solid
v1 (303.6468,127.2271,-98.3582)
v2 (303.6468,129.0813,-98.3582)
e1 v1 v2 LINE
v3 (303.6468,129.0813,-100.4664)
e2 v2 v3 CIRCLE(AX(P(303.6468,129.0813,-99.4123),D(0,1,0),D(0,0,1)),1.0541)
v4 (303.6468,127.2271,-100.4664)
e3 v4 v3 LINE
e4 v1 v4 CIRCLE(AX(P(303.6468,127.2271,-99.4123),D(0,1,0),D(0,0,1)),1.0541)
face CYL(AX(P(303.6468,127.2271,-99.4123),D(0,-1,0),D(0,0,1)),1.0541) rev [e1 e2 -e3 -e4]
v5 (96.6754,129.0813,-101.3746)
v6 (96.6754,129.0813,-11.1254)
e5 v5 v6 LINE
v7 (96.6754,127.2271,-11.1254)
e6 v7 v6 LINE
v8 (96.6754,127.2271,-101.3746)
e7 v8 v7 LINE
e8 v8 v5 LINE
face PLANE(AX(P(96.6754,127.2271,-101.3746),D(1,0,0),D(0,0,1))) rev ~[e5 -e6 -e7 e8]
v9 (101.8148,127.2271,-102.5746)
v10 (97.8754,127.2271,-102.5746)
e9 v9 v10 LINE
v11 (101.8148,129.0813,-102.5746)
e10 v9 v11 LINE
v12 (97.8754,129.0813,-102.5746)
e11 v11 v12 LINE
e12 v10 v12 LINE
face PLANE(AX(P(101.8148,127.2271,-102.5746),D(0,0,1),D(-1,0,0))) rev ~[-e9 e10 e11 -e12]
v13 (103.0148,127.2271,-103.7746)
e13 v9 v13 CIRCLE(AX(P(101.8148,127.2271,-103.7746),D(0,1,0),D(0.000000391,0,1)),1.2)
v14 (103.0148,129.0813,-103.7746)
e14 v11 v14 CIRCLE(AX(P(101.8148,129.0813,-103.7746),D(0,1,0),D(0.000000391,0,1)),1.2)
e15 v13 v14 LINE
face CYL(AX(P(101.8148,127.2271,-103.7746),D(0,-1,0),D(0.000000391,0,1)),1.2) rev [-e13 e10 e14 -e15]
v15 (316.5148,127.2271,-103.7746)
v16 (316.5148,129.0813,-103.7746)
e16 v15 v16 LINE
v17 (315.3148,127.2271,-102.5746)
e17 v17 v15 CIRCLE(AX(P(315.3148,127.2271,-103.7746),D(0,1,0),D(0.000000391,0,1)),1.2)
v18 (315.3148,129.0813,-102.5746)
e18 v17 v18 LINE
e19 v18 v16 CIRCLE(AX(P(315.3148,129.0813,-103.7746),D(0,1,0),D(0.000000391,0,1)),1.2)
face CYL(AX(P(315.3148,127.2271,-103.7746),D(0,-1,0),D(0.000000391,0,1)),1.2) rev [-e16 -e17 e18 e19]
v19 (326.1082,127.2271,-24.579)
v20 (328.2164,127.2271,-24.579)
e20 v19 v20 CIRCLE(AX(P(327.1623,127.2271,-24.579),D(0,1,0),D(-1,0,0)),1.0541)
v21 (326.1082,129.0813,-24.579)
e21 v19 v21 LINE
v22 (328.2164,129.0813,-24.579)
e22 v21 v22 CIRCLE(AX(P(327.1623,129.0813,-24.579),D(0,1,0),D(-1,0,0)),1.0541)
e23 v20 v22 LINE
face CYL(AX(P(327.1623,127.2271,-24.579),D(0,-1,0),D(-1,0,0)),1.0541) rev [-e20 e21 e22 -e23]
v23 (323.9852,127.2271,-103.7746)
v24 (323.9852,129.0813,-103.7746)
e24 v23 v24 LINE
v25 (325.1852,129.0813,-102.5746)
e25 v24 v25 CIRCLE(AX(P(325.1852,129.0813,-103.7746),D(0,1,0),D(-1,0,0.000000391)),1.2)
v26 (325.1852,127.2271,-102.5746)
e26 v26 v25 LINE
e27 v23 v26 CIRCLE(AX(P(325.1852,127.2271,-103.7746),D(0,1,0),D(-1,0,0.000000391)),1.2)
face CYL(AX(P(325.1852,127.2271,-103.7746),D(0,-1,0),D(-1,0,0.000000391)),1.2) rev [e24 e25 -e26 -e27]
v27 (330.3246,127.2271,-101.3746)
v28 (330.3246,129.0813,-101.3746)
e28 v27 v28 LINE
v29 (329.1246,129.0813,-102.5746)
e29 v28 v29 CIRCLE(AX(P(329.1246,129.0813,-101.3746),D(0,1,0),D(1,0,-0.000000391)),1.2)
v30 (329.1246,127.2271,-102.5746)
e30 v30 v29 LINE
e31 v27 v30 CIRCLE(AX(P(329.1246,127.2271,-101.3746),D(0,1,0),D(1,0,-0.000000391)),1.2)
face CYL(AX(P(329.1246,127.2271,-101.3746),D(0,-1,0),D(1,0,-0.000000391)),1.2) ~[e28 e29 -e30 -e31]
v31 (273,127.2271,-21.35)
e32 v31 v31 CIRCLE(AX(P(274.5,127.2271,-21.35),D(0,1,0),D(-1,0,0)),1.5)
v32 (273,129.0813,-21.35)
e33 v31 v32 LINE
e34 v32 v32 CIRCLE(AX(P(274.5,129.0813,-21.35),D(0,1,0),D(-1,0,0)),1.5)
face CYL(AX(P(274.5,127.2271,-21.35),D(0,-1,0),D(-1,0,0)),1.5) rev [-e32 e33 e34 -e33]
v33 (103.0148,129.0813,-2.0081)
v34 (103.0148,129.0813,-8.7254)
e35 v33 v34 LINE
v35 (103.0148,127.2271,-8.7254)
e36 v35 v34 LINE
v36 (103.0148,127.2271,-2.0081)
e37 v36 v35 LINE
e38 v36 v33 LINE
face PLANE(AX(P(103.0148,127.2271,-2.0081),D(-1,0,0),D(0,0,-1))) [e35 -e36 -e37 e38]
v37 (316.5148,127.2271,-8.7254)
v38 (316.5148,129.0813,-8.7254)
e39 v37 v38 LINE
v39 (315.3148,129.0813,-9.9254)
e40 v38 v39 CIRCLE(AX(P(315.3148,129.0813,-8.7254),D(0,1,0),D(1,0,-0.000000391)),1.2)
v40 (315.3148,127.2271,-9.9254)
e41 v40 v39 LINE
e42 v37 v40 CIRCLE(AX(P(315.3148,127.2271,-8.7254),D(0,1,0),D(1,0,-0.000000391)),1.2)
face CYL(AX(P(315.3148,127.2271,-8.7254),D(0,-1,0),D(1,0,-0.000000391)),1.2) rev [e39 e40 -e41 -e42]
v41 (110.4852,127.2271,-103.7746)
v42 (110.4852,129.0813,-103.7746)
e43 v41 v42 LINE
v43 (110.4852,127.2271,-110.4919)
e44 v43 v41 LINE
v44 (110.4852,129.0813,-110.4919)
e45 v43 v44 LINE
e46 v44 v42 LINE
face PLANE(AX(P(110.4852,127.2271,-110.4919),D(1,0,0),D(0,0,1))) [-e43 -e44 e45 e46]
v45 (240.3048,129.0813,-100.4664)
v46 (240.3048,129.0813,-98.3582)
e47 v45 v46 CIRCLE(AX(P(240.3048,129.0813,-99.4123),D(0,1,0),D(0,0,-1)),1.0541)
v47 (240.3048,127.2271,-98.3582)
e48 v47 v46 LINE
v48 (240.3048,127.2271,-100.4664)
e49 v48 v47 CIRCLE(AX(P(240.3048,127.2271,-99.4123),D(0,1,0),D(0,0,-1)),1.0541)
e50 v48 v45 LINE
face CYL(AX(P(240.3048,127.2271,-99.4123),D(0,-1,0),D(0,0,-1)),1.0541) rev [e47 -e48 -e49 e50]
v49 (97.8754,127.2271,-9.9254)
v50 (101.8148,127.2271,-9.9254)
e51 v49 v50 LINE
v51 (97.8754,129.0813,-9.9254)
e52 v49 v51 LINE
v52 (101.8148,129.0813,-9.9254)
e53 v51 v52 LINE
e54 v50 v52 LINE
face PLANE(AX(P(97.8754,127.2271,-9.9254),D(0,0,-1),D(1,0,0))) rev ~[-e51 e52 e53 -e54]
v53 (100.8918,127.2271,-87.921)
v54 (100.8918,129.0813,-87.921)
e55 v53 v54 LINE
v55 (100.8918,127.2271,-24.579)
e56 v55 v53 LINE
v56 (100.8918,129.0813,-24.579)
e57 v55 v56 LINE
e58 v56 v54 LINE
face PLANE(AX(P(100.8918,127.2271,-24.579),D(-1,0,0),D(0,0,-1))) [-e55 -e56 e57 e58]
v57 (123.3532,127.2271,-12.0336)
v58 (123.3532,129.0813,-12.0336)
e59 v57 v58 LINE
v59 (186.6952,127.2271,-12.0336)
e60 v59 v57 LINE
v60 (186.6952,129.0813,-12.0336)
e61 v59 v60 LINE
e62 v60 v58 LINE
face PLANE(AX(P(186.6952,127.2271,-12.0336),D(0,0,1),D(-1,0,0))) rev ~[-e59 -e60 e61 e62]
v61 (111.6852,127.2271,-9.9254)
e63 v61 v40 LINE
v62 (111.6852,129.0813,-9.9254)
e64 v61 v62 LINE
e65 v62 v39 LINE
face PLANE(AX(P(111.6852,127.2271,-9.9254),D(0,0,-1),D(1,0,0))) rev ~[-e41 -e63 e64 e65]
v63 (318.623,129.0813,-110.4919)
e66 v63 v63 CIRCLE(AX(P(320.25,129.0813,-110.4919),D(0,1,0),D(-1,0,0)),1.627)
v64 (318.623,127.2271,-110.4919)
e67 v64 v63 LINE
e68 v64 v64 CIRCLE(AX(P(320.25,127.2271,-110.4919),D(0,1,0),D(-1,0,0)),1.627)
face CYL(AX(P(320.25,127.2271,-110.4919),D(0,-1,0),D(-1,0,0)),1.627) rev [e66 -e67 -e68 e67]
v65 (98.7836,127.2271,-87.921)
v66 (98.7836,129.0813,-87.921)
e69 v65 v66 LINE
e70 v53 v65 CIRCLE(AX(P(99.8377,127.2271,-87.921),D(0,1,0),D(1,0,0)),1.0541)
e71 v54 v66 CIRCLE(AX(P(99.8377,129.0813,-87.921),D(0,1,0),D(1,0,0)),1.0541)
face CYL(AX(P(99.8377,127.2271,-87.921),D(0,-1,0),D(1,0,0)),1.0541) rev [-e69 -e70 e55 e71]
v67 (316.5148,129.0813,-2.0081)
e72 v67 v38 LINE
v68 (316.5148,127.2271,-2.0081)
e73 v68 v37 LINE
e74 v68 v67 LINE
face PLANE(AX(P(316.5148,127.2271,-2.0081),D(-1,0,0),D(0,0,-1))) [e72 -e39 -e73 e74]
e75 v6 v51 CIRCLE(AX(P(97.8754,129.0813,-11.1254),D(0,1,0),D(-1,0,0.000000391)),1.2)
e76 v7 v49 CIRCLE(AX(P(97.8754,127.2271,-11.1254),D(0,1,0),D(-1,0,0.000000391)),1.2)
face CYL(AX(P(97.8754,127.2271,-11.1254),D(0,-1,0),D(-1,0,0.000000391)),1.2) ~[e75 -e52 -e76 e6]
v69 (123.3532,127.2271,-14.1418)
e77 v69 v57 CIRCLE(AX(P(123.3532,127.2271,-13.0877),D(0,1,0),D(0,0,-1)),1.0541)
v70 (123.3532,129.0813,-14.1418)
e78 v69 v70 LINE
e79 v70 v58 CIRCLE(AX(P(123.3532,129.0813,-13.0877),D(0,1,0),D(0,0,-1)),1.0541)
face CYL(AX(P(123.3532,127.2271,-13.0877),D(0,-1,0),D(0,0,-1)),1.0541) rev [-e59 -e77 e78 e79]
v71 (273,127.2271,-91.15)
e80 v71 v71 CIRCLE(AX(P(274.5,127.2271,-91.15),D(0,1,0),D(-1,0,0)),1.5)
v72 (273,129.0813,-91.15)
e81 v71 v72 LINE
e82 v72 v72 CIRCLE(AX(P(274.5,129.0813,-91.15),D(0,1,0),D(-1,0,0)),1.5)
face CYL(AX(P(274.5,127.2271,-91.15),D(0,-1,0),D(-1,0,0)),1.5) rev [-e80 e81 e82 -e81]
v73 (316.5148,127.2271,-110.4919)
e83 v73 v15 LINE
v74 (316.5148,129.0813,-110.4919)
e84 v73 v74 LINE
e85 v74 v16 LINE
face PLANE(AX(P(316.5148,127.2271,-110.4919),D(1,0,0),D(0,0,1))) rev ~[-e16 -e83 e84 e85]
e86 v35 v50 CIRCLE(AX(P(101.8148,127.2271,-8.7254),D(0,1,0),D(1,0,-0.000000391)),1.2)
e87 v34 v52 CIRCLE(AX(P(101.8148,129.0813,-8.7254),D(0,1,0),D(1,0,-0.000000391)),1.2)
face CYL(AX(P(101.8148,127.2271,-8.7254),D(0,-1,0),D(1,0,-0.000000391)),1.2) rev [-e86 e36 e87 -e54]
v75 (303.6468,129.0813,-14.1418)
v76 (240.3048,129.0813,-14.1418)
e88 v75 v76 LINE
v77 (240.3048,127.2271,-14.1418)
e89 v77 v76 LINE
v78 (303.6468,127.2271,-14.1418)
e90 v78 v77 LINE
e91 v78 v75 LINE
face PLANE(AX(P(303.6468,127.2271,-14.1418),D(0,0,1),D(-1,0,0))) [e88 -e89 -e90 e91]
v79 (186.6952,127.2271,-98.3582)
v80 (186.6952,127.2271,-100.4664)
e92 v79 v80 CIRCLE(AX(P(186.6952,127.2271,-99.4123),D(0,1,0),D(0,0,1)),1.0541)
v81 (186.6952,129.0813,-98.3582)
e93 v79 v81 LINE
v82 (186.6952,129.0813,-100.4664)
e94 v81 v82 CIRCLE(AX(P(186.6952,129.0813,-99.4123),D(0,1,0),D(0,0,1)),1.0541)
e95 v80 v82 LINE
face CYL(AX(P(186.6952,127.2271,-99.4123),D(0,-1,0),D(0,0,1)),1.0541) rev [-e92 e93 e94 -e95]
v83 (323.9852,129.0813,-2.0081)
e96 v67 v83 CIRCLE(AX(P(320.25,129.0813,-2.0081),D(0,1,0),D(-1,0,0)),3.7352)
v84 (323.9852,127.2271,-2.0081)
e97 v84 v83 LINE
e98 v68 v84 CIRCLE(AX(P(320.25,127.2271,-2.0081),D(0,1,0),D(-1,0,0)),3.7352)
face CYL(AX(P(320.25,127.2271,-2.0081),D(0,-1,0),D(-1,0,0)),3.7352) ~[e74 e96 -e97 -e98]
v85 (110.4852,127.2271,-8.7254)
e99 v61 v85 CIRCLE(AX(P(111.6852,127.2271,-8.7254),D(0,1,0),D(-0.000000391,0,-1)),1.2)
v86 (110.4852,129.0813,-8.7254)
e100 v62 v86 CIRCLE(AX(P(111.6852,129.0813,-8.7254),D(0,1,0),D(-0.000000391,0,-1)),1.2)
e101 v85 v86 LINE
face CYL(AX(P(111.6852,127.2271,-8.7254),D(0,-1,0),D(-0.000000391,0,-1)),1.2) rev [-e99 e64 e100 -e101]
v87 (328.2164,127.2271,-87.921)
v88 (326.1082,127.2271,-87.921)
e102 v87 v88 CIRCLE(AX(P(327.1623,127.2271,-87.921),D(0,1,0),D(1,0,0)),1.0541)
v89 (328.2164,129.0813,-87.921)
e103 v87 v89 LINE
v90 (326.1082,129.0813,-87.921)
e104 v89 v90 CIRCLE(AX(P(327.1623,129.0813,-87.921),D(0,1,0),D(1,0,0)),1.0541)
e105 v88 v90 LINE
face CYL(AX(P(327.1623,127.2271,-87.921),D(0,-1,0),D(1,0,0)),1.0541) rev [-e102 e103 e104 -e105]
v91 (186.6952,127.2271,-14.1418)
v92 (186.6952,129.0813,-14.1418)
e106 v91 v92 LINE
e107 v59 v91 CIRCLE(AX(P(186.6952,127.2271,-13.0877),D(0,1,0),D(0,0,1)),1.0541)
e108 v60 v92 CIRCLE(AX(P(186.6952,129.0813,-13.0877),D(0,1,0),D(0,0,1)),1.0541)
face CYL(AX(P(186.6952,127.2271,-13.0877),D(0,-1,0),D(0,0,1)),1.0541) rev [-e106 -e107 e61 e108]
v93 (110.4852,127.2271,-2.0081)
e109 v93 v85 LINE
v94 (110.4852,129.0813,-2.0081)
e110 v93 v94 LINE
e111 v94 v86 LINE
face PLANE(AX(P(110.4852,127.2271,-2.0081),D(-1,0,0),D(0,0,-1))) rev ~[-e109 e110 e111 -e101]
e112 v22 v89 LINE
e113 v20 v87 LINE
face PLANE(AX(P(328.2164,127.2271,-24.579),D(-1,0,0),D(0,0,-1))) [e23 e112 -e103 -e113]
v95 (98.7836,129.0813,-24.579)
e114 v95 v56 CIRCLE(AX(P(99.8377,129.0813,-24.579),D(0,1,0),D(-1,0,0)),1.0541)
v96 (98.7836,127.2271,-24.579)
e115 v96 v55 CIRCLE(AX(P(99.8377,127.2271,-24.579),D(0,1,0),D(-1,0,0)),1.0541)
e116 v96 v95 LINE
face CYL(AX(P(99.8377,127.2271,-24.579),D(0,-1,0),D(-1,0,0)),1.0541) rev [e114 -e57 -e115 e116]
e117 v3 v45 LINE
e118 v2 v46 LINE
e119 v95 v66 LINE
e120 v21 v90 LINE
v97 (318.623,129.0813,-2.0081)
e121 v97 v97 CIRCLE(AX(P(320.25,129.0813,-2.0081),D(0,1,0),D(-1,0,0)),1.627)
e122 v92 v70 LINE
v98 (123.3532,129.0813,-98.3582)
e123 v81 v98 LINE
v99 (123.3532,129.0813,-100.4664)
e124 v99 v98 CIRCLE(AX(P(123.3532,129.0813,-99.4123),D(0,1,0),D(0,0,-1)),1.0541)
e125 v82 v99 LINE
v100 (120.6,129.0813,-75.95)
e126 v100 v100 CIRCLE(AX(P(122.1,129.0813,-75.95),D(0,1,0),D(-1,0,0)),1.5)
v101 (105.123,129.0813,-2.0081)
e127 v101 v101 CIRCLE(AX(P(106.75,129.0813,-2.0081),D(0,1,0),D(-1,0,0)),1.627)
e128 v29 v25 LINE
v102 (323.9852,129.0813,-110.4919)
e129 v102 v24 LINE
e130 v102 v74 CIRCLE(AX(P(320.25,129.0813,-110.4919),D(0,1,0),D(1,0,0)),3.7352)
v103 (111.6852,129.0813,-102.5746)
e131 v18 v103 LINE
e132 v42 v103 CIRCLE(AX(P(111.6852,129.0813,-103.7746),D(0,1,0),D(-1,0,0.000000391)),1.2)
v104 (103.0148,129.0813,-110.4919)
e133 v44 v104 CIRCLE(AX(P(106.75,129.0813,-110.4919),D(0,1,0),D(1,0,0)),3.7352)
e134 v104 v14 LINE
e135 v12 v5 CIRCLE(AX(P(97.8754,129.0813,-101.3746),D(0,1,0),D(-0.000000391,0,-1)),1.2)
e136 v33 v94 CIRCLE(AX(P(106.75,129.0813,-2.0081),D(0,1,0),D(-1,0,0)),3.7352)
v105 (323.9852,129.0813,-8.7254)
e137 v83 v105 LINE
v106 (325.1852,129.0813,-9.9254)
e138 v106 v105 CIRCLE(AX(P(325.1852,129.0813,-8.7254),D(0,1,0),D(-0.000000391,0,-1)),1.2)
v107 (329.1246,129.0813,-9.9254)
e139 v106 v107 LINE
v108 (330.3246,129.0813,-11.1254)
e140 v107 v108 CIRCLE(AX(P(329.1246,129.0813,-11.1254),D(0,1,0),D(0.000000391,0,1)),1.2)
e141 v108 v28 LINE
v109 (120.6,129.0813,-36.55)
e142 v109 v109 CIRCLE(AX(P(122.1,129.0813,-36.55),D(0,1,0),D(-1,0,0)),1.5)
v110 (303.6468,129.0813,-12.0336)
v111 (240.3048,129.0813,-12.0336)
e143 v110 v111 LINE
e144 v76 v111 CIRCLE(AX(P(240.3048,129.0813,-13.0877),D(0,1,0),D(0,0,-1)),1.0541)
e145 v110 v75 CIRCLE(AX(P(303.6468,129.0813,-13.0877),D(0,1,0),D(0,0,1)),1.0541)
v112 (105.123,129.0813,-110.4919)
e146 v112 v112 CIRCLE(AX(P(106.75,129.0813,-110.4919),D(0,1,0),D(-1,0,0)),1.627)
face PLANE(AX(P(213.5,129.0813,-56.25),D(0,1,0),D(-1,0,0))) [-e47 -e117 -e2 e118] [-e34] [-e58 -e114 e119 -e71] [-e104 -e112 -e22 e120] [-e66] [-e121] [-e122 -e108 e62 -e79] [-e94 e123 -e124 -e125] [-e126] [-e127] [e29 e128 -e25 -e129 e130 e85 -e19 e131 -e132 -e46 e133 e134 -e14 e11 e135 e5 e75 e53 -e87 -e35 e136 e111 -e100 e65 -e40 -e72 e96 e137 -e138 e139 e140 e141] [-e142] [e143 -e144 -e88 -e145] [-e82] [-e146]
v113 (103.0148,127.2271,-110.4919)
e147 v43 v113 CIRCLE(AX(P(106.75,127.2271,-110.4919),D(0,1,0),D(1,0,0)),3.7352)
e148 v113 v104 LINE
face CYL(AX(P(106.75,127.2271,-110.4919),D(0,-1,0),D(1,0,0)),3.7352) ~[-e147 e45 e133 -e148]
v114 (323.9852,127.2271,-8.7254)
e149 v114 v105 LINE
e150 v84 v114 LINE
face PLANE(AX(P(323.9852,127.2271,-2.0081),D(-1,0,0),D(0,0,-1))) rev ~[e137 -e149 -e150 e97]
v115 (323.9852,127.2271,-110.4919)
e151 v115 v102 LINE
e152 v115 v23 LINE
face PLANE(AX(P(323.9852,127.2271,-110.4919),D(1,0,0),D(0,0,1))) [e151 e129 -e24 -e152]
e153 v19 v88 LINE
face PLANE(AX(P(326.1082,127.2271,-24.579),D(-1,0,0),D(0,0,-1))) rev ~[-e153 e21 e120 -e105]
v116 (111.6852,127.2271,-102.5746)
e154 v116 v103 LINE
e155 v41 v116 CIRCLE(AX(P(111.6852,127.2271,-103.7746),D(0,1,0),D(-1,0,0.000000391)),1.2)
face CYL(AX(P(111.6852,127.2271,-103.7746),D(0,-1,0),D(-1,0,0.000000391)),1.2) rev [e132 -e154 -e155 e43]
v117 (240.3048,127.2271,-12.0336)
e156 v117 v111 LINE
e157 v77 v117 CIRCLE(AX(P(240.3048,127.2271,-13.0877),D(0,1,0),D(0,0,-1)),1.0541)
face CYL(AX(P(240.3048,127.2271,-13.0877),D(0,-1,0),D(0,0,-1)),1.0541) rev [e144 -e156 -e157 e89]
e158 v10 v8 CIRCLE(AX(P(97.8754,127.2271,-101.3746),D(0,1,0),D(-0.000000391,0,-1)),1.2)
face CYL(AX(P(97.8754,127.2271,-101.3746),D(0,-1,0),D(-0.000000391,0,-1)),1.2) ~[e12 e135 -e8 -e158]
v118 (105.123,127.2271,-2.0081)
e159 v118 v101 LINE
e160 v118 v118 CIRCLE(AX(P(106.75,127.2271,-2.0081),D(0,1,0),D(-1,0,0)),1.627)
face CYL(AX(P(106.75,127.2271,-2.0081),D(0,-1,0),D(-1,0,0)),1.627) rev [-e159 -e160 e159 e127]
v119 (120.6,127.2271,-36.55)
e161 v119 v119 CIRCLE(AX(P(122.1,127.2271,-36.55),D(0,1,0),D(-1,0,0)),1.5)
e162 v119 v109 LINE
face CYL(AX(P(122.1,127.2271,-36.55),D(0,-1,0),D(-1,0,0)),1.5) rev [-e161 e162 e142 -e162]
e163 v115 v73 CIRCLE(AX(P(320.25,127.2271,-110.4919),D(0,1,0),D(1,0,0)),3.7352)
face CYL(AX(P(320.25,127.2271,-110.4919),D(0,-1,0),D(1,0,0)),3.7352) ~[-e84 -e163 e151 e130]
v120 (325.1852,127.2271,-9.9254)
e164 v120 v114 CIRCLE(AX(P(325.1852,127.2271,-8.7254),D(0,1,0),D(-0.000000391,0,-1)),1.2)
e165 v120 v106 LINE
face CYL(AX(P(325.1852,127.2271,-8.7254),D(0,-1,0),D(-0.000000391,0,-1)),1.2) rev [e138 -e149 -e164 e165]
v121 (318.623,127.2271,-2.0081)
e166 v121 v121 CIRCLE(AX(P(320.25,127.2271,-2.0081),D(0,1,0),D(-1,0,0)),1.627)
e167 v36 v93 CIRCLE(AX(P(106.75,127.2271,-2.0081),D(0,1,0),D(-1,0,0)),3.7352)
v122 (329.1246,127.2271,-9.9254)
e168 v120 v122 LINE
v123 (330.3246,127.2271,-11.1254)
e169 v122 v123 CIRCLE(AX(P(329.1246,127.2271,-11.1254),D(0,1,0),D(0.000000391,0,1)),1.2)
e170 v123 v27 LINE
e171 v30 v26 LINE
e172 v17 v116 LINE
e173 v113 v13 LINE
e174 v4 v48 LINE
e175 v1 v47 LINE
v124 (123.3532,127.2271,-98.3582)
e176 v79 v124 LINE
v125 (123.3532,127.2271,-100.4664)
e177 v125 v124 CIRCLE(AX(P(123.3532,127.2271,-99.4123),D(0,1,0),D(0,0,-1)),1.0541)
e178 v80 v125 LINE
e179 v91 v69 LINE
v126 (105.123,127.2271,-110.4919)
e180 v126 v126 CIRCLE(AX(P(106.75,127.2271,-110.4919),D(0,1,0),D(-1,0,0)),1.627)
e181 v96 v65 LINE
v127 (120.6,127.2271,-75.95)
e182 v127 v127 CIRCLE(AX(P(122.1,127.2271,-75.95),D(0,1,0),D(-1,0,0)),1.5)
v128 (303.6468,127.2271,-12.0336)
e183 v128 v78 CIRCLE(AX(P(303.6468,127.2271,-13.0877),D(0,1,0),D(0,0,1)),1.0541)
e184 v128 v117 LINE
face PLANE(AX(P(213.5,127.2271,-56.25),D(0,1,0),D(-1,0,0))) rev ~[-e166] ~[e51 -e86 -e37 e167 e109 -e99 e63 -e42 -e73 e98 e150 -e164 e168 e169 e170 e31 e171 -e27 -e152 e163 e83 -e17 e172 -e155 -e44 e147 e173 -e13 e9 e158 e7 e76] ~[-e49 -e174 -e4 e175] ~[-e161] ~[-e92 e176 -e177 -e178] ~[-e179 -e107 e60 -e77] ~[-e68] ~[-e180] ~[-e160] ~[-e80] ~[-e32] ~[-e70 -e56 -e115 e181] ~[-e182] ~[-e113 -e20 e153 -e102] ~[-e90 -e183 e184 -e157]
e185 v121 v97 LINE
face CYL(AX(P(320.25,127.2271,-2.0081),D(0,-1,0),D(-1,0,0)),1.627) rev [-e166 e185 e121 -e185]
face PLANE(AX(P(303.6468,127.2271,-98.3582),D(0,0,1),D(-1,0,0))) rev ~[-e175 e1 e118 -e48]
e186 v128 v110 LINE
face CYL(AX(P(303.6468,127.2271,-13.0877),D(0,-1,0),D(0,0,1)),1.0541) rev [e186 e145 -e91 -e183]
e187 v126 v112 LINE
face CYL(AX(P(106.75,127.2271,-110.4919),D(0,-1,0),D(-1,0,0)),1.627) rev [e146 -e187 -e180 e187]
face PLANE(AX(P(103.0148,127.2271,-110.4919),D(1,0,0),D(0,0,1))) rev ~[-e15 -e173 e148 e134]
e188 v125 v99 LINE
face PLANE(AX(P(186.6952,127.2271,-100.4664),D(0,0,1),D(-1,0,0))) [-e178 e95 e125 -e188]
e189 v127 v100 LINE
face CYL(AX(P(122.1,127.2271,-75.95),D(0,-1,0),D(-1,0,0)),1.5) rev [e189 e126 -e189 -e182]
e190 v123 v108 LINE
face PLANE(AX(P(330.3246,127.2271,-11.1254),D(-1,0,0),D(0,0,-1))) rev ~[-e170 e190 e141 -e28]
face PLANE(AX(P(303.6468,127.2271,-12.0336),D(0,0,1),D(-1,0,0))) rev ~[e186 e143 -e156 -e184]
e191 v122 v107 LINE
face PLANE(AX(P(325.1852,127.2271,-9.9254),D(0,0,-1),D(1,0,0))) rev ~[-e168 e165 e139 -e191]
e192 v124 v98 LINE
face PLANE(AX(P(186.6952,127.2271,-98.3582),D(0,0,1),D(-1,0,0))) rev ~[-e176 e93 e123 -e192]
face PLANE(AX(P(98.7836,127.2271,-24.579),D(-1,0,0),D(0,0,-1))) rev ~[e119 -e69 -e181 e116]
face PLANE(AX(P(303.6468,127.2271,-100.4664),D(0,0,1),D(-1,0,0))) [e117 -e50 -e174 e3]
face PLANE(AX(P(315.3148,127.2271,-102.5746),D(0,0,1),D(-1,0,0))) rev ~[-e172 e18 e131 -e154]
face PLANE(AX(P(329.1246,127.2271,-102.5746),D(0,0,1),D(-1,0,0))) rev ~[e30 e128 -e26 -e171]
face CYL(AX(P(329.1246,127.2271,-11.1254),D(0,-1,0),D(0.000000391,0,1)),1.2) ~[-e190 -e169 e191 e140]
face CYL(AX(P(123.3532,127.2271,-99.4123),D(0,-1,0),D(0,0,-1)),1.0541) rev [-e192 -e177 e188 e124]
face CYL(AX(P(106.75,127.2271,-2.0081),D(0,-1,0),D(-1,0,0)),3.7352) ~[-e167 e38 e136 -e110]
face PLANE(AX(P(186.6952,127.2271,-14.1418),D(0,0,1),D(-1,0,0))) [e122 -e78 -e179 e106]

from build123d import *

# Parameters (mm, degrees)
SKETCH_R   = 1.627
SKETCH_R_2 = 1.5
PAD_DEPTH  = 1.8542


with BuildPart() as part:
    # Sketch (on Face85 of Binder) → Pad (new body)
    with BuildSketch(Plane(origin=(0, 127.2271, 0), x_dir=(-1, 0, 0), z_dir=(0, 1, 0))):
        with BuildLine():
            Line((-330.3246, -11.1254), (-330.3246, -101.3746))
            ThreePointArc((-330.3246, -101.3746), (-329.973128, -102.223128), (-329.1246, -102.5746))
            Line((-329.1246, -102.5746), (-325.1852, -102.5746))
            ThreePointArc((-323.9852, -103.7746), (-324.336672, -102.926072), (-325.1852, -102.5746))
            Line((-323.9852, -110.4919), (-323.9852, -103.7746))
            ThreePointArc((-323.9852, -110.4919), (-320.25, -114.2271), (-316.5148, -110.4919))
            Line((-316.5148, -110.4919), (-316.5148, -103.7746))
            ThreePointArc((-315.3148, -102.5746), (-316.163328, -102.926072), (-316.5148, -103.7746))
            Line((-315.3148, -102.5746), (-111.6852, -102.5746))
            ThreePointArc((-110.4852, -103.7746), (-110.836672, -102.926072), (-111.6852, -102.5746))
            Line((-110.4852, -110.4919), (-110.4852, -103.7746))
            ThreePointArc((-110.4852, -110.4919), (-106.75, -114.2271), (-103.0148, -110.4919))
            Line((-103.0148, -110.4919), (-103.0148, -103.7746))
            ThreePointArc((-101.8148, -102.5746), (-102.663328, -102.926072), (-103.0148, -103.7746))
            Line((-101.8148, -102.5746), (-97.8754, -102.5746))
            ThreePointArc((-97.8754, -102.5746), (-97.026872, -102.223128), (-96.6754, -101.3746))
            Line((-96.6754, -101.3746), (-96.6754, -11.1254))
            ThreePointArc((-96.6754, -11.1254), (-97.026872, -10.276872), (-97.8754, -9.9254))
            Line((-97.8754, -9.9254), (-101.8148, -9.9254))
            ThreePointArc((-103.0148, -8.7254), (-102.663328, -9.573928), (-101.8148, -9.9254))
            Line((-103.0148, -2.0081), (-103.0148, -8.7254))
            ThreePointArc((-103.0148, -2.0081), (-106.75, 1.7271), (-110.4852, -2.0081))
            Line((-110.4852, -2.0081), (-110.4852, -8.7254))
            ThreePointArc((-111.6852, -9.9254), (-110.836672, -9.573928), (-110.4852, -8.7254))
            Line((-111.6852, -9.9254), (-315.3148, -9.9254))
            ThreePointArc((-316.5148, -8.7254), (-316.163328, -9.573928), (-315.3148, -9.9254))
            Line((-316.5148, -2.0081), (-316.5148, -8.7254))
            ThreePointArc((-316.5148, -2.0081), (-320.25, 1.7271), (-323.9852, -2.0081))
            Line((-323.9852, -2.0081), (-323.9852, -8.7254))
            ThreePointArc((-325.1852, -9.9254), (-324.336672, -9.573928), (-323.9852, -8.7254))
            Line((-325.1852, -9.9254), (-329.1246, -9.9254))
            ThreePointArc((-329.1246, -9.9254), (-329.973128, -10.276872), (-330.3246, -11.1254))
        make_face()
        with Locations((-320.25, -2.0081)):
            Circle(SKETCH_R, mode=Mode.SUBTRACT)
        with Locations((-106.75, -2.0081)):
            Circle(SKETCH_R, mode=Mode.SUBTRACT)
        with Locations((-122.1, -36.55)):
            Circle(SKETCH_R_2, mode=Mode.SUBTRACT)
        with Locations((-122.1, -75.95)):
            Circle(SKETCH_R_2, mode=Mode.SUBTRACT)
        with Locations((-106.75, -110.4919)):
            Circle(SKETCH_R, mode=Mode.SUBTRACT)
        with Locations((-320.25, -110.4919)):
            Circle(SKETCH_R, mode=Mode.SUBTRACT)
        with Locations((-274.5, -91.15)):
            Circle(SKETCH_R_2, mode=Mode.SUBTRACT)
        with Locations((-274.5, -21.35)):
            Circle(SKETCH_R_2, mode=Mode.SUBTRACT)
        with BuildLine():
            ThreePointArc((-326.1082, -24.579), (-327.1623, -23.5249), (-328.2164, -24.579))
            Line((-328.2164, -24.579), (-328.2164, -87.921))
            ThreePointArc((-328.2164, -87.921), (-327.1623, -88.9751), (-326.1082, -87.921))
            Line((-326.1082, -24.579), (-326.1082, -87.921))
        make_face(mode=Mode.SUBTRACT)
        with BuildLine():
            ThreePointArc((-98.7836, -24.579), (-99.8377, -23.5249), (-100.8918, -24.579))
            Line((-100.8918, -24.579), (-100.8918, -87.921))
            ThreePointArc((-100.8918, -87.921), (-99.8377, -88.9751), (-98.7836, -87.921))
            Line((-98.7836, -24.579), (-98.7836, -87.921))
        make_face(mode=Mode.SUBTRACT)
        with BuildLine():
            ThreePointArc((-303.6468, -12.0336), (-304.7009, -13.0877), (-303.6468, -14.1418))
            Line((-303.6468, -14.1418), (-240.3048, -14.1418))
            ThreePointArc((-240.3048, -14.1418), (-239.2507, -13.0877), (-240.3048, -12.0336))
            Line((-303.6468, -12.0336), (-240.3048, -12.0336))
        make_face(mode=Mode.SUBTRACT)
        with BuildLine():
            ThreePointArc((-186.6952, -12.0336), (-187.7493, -13.0877), (-186.6952, -14.1418))
            Line((-186.6952, -14.1418), (-123.3532, -14.1418))
            ThreePointArc((-123.3532, -14.1418), (-122.2991, -13.0877), (-123.3532, -12.0336))
            Line((-186.6952, -12.0336), (-123.3532, -12.0336))
        make_face(mode=Mode.SUBTRACT)
        with BuildLine():
            ThreePointArc((-303.6468, -98.3582), (-304.7009, -99.4123), (-303.6468, -100.4664))
            Line((-303.6468, -100.4664), (-240.3048, -100.4664))
            ThreePointArc((-240.3048, -100.4664), (-239.2507, -99.4123), (-240.3048, -98.3582))
            Line((-303.6468, -98.3582), (-240.3048, -98.3582))
        make_face(mode=Mode.SUBTRACT)
        with BuildLine():
            ThreePointArc((-186.6952, -98.3582), (-187.7493, -99.4123), (-186.6952, -100.4664))
            Line((-186.6952, -100.4664), (-123.3532, -100.4664))
            ThreePointArc((-123.3532, -100.4664), (-122.2991, -99.4123), (-123.3532, -98.3582))
            Line((-186.6952, -98.3582), (-123.3532, -98.3582))
        make_face(mode=Mode.SUBTRACT)
    extrude(amount=PAD_DEPTH)


solid = part.part
